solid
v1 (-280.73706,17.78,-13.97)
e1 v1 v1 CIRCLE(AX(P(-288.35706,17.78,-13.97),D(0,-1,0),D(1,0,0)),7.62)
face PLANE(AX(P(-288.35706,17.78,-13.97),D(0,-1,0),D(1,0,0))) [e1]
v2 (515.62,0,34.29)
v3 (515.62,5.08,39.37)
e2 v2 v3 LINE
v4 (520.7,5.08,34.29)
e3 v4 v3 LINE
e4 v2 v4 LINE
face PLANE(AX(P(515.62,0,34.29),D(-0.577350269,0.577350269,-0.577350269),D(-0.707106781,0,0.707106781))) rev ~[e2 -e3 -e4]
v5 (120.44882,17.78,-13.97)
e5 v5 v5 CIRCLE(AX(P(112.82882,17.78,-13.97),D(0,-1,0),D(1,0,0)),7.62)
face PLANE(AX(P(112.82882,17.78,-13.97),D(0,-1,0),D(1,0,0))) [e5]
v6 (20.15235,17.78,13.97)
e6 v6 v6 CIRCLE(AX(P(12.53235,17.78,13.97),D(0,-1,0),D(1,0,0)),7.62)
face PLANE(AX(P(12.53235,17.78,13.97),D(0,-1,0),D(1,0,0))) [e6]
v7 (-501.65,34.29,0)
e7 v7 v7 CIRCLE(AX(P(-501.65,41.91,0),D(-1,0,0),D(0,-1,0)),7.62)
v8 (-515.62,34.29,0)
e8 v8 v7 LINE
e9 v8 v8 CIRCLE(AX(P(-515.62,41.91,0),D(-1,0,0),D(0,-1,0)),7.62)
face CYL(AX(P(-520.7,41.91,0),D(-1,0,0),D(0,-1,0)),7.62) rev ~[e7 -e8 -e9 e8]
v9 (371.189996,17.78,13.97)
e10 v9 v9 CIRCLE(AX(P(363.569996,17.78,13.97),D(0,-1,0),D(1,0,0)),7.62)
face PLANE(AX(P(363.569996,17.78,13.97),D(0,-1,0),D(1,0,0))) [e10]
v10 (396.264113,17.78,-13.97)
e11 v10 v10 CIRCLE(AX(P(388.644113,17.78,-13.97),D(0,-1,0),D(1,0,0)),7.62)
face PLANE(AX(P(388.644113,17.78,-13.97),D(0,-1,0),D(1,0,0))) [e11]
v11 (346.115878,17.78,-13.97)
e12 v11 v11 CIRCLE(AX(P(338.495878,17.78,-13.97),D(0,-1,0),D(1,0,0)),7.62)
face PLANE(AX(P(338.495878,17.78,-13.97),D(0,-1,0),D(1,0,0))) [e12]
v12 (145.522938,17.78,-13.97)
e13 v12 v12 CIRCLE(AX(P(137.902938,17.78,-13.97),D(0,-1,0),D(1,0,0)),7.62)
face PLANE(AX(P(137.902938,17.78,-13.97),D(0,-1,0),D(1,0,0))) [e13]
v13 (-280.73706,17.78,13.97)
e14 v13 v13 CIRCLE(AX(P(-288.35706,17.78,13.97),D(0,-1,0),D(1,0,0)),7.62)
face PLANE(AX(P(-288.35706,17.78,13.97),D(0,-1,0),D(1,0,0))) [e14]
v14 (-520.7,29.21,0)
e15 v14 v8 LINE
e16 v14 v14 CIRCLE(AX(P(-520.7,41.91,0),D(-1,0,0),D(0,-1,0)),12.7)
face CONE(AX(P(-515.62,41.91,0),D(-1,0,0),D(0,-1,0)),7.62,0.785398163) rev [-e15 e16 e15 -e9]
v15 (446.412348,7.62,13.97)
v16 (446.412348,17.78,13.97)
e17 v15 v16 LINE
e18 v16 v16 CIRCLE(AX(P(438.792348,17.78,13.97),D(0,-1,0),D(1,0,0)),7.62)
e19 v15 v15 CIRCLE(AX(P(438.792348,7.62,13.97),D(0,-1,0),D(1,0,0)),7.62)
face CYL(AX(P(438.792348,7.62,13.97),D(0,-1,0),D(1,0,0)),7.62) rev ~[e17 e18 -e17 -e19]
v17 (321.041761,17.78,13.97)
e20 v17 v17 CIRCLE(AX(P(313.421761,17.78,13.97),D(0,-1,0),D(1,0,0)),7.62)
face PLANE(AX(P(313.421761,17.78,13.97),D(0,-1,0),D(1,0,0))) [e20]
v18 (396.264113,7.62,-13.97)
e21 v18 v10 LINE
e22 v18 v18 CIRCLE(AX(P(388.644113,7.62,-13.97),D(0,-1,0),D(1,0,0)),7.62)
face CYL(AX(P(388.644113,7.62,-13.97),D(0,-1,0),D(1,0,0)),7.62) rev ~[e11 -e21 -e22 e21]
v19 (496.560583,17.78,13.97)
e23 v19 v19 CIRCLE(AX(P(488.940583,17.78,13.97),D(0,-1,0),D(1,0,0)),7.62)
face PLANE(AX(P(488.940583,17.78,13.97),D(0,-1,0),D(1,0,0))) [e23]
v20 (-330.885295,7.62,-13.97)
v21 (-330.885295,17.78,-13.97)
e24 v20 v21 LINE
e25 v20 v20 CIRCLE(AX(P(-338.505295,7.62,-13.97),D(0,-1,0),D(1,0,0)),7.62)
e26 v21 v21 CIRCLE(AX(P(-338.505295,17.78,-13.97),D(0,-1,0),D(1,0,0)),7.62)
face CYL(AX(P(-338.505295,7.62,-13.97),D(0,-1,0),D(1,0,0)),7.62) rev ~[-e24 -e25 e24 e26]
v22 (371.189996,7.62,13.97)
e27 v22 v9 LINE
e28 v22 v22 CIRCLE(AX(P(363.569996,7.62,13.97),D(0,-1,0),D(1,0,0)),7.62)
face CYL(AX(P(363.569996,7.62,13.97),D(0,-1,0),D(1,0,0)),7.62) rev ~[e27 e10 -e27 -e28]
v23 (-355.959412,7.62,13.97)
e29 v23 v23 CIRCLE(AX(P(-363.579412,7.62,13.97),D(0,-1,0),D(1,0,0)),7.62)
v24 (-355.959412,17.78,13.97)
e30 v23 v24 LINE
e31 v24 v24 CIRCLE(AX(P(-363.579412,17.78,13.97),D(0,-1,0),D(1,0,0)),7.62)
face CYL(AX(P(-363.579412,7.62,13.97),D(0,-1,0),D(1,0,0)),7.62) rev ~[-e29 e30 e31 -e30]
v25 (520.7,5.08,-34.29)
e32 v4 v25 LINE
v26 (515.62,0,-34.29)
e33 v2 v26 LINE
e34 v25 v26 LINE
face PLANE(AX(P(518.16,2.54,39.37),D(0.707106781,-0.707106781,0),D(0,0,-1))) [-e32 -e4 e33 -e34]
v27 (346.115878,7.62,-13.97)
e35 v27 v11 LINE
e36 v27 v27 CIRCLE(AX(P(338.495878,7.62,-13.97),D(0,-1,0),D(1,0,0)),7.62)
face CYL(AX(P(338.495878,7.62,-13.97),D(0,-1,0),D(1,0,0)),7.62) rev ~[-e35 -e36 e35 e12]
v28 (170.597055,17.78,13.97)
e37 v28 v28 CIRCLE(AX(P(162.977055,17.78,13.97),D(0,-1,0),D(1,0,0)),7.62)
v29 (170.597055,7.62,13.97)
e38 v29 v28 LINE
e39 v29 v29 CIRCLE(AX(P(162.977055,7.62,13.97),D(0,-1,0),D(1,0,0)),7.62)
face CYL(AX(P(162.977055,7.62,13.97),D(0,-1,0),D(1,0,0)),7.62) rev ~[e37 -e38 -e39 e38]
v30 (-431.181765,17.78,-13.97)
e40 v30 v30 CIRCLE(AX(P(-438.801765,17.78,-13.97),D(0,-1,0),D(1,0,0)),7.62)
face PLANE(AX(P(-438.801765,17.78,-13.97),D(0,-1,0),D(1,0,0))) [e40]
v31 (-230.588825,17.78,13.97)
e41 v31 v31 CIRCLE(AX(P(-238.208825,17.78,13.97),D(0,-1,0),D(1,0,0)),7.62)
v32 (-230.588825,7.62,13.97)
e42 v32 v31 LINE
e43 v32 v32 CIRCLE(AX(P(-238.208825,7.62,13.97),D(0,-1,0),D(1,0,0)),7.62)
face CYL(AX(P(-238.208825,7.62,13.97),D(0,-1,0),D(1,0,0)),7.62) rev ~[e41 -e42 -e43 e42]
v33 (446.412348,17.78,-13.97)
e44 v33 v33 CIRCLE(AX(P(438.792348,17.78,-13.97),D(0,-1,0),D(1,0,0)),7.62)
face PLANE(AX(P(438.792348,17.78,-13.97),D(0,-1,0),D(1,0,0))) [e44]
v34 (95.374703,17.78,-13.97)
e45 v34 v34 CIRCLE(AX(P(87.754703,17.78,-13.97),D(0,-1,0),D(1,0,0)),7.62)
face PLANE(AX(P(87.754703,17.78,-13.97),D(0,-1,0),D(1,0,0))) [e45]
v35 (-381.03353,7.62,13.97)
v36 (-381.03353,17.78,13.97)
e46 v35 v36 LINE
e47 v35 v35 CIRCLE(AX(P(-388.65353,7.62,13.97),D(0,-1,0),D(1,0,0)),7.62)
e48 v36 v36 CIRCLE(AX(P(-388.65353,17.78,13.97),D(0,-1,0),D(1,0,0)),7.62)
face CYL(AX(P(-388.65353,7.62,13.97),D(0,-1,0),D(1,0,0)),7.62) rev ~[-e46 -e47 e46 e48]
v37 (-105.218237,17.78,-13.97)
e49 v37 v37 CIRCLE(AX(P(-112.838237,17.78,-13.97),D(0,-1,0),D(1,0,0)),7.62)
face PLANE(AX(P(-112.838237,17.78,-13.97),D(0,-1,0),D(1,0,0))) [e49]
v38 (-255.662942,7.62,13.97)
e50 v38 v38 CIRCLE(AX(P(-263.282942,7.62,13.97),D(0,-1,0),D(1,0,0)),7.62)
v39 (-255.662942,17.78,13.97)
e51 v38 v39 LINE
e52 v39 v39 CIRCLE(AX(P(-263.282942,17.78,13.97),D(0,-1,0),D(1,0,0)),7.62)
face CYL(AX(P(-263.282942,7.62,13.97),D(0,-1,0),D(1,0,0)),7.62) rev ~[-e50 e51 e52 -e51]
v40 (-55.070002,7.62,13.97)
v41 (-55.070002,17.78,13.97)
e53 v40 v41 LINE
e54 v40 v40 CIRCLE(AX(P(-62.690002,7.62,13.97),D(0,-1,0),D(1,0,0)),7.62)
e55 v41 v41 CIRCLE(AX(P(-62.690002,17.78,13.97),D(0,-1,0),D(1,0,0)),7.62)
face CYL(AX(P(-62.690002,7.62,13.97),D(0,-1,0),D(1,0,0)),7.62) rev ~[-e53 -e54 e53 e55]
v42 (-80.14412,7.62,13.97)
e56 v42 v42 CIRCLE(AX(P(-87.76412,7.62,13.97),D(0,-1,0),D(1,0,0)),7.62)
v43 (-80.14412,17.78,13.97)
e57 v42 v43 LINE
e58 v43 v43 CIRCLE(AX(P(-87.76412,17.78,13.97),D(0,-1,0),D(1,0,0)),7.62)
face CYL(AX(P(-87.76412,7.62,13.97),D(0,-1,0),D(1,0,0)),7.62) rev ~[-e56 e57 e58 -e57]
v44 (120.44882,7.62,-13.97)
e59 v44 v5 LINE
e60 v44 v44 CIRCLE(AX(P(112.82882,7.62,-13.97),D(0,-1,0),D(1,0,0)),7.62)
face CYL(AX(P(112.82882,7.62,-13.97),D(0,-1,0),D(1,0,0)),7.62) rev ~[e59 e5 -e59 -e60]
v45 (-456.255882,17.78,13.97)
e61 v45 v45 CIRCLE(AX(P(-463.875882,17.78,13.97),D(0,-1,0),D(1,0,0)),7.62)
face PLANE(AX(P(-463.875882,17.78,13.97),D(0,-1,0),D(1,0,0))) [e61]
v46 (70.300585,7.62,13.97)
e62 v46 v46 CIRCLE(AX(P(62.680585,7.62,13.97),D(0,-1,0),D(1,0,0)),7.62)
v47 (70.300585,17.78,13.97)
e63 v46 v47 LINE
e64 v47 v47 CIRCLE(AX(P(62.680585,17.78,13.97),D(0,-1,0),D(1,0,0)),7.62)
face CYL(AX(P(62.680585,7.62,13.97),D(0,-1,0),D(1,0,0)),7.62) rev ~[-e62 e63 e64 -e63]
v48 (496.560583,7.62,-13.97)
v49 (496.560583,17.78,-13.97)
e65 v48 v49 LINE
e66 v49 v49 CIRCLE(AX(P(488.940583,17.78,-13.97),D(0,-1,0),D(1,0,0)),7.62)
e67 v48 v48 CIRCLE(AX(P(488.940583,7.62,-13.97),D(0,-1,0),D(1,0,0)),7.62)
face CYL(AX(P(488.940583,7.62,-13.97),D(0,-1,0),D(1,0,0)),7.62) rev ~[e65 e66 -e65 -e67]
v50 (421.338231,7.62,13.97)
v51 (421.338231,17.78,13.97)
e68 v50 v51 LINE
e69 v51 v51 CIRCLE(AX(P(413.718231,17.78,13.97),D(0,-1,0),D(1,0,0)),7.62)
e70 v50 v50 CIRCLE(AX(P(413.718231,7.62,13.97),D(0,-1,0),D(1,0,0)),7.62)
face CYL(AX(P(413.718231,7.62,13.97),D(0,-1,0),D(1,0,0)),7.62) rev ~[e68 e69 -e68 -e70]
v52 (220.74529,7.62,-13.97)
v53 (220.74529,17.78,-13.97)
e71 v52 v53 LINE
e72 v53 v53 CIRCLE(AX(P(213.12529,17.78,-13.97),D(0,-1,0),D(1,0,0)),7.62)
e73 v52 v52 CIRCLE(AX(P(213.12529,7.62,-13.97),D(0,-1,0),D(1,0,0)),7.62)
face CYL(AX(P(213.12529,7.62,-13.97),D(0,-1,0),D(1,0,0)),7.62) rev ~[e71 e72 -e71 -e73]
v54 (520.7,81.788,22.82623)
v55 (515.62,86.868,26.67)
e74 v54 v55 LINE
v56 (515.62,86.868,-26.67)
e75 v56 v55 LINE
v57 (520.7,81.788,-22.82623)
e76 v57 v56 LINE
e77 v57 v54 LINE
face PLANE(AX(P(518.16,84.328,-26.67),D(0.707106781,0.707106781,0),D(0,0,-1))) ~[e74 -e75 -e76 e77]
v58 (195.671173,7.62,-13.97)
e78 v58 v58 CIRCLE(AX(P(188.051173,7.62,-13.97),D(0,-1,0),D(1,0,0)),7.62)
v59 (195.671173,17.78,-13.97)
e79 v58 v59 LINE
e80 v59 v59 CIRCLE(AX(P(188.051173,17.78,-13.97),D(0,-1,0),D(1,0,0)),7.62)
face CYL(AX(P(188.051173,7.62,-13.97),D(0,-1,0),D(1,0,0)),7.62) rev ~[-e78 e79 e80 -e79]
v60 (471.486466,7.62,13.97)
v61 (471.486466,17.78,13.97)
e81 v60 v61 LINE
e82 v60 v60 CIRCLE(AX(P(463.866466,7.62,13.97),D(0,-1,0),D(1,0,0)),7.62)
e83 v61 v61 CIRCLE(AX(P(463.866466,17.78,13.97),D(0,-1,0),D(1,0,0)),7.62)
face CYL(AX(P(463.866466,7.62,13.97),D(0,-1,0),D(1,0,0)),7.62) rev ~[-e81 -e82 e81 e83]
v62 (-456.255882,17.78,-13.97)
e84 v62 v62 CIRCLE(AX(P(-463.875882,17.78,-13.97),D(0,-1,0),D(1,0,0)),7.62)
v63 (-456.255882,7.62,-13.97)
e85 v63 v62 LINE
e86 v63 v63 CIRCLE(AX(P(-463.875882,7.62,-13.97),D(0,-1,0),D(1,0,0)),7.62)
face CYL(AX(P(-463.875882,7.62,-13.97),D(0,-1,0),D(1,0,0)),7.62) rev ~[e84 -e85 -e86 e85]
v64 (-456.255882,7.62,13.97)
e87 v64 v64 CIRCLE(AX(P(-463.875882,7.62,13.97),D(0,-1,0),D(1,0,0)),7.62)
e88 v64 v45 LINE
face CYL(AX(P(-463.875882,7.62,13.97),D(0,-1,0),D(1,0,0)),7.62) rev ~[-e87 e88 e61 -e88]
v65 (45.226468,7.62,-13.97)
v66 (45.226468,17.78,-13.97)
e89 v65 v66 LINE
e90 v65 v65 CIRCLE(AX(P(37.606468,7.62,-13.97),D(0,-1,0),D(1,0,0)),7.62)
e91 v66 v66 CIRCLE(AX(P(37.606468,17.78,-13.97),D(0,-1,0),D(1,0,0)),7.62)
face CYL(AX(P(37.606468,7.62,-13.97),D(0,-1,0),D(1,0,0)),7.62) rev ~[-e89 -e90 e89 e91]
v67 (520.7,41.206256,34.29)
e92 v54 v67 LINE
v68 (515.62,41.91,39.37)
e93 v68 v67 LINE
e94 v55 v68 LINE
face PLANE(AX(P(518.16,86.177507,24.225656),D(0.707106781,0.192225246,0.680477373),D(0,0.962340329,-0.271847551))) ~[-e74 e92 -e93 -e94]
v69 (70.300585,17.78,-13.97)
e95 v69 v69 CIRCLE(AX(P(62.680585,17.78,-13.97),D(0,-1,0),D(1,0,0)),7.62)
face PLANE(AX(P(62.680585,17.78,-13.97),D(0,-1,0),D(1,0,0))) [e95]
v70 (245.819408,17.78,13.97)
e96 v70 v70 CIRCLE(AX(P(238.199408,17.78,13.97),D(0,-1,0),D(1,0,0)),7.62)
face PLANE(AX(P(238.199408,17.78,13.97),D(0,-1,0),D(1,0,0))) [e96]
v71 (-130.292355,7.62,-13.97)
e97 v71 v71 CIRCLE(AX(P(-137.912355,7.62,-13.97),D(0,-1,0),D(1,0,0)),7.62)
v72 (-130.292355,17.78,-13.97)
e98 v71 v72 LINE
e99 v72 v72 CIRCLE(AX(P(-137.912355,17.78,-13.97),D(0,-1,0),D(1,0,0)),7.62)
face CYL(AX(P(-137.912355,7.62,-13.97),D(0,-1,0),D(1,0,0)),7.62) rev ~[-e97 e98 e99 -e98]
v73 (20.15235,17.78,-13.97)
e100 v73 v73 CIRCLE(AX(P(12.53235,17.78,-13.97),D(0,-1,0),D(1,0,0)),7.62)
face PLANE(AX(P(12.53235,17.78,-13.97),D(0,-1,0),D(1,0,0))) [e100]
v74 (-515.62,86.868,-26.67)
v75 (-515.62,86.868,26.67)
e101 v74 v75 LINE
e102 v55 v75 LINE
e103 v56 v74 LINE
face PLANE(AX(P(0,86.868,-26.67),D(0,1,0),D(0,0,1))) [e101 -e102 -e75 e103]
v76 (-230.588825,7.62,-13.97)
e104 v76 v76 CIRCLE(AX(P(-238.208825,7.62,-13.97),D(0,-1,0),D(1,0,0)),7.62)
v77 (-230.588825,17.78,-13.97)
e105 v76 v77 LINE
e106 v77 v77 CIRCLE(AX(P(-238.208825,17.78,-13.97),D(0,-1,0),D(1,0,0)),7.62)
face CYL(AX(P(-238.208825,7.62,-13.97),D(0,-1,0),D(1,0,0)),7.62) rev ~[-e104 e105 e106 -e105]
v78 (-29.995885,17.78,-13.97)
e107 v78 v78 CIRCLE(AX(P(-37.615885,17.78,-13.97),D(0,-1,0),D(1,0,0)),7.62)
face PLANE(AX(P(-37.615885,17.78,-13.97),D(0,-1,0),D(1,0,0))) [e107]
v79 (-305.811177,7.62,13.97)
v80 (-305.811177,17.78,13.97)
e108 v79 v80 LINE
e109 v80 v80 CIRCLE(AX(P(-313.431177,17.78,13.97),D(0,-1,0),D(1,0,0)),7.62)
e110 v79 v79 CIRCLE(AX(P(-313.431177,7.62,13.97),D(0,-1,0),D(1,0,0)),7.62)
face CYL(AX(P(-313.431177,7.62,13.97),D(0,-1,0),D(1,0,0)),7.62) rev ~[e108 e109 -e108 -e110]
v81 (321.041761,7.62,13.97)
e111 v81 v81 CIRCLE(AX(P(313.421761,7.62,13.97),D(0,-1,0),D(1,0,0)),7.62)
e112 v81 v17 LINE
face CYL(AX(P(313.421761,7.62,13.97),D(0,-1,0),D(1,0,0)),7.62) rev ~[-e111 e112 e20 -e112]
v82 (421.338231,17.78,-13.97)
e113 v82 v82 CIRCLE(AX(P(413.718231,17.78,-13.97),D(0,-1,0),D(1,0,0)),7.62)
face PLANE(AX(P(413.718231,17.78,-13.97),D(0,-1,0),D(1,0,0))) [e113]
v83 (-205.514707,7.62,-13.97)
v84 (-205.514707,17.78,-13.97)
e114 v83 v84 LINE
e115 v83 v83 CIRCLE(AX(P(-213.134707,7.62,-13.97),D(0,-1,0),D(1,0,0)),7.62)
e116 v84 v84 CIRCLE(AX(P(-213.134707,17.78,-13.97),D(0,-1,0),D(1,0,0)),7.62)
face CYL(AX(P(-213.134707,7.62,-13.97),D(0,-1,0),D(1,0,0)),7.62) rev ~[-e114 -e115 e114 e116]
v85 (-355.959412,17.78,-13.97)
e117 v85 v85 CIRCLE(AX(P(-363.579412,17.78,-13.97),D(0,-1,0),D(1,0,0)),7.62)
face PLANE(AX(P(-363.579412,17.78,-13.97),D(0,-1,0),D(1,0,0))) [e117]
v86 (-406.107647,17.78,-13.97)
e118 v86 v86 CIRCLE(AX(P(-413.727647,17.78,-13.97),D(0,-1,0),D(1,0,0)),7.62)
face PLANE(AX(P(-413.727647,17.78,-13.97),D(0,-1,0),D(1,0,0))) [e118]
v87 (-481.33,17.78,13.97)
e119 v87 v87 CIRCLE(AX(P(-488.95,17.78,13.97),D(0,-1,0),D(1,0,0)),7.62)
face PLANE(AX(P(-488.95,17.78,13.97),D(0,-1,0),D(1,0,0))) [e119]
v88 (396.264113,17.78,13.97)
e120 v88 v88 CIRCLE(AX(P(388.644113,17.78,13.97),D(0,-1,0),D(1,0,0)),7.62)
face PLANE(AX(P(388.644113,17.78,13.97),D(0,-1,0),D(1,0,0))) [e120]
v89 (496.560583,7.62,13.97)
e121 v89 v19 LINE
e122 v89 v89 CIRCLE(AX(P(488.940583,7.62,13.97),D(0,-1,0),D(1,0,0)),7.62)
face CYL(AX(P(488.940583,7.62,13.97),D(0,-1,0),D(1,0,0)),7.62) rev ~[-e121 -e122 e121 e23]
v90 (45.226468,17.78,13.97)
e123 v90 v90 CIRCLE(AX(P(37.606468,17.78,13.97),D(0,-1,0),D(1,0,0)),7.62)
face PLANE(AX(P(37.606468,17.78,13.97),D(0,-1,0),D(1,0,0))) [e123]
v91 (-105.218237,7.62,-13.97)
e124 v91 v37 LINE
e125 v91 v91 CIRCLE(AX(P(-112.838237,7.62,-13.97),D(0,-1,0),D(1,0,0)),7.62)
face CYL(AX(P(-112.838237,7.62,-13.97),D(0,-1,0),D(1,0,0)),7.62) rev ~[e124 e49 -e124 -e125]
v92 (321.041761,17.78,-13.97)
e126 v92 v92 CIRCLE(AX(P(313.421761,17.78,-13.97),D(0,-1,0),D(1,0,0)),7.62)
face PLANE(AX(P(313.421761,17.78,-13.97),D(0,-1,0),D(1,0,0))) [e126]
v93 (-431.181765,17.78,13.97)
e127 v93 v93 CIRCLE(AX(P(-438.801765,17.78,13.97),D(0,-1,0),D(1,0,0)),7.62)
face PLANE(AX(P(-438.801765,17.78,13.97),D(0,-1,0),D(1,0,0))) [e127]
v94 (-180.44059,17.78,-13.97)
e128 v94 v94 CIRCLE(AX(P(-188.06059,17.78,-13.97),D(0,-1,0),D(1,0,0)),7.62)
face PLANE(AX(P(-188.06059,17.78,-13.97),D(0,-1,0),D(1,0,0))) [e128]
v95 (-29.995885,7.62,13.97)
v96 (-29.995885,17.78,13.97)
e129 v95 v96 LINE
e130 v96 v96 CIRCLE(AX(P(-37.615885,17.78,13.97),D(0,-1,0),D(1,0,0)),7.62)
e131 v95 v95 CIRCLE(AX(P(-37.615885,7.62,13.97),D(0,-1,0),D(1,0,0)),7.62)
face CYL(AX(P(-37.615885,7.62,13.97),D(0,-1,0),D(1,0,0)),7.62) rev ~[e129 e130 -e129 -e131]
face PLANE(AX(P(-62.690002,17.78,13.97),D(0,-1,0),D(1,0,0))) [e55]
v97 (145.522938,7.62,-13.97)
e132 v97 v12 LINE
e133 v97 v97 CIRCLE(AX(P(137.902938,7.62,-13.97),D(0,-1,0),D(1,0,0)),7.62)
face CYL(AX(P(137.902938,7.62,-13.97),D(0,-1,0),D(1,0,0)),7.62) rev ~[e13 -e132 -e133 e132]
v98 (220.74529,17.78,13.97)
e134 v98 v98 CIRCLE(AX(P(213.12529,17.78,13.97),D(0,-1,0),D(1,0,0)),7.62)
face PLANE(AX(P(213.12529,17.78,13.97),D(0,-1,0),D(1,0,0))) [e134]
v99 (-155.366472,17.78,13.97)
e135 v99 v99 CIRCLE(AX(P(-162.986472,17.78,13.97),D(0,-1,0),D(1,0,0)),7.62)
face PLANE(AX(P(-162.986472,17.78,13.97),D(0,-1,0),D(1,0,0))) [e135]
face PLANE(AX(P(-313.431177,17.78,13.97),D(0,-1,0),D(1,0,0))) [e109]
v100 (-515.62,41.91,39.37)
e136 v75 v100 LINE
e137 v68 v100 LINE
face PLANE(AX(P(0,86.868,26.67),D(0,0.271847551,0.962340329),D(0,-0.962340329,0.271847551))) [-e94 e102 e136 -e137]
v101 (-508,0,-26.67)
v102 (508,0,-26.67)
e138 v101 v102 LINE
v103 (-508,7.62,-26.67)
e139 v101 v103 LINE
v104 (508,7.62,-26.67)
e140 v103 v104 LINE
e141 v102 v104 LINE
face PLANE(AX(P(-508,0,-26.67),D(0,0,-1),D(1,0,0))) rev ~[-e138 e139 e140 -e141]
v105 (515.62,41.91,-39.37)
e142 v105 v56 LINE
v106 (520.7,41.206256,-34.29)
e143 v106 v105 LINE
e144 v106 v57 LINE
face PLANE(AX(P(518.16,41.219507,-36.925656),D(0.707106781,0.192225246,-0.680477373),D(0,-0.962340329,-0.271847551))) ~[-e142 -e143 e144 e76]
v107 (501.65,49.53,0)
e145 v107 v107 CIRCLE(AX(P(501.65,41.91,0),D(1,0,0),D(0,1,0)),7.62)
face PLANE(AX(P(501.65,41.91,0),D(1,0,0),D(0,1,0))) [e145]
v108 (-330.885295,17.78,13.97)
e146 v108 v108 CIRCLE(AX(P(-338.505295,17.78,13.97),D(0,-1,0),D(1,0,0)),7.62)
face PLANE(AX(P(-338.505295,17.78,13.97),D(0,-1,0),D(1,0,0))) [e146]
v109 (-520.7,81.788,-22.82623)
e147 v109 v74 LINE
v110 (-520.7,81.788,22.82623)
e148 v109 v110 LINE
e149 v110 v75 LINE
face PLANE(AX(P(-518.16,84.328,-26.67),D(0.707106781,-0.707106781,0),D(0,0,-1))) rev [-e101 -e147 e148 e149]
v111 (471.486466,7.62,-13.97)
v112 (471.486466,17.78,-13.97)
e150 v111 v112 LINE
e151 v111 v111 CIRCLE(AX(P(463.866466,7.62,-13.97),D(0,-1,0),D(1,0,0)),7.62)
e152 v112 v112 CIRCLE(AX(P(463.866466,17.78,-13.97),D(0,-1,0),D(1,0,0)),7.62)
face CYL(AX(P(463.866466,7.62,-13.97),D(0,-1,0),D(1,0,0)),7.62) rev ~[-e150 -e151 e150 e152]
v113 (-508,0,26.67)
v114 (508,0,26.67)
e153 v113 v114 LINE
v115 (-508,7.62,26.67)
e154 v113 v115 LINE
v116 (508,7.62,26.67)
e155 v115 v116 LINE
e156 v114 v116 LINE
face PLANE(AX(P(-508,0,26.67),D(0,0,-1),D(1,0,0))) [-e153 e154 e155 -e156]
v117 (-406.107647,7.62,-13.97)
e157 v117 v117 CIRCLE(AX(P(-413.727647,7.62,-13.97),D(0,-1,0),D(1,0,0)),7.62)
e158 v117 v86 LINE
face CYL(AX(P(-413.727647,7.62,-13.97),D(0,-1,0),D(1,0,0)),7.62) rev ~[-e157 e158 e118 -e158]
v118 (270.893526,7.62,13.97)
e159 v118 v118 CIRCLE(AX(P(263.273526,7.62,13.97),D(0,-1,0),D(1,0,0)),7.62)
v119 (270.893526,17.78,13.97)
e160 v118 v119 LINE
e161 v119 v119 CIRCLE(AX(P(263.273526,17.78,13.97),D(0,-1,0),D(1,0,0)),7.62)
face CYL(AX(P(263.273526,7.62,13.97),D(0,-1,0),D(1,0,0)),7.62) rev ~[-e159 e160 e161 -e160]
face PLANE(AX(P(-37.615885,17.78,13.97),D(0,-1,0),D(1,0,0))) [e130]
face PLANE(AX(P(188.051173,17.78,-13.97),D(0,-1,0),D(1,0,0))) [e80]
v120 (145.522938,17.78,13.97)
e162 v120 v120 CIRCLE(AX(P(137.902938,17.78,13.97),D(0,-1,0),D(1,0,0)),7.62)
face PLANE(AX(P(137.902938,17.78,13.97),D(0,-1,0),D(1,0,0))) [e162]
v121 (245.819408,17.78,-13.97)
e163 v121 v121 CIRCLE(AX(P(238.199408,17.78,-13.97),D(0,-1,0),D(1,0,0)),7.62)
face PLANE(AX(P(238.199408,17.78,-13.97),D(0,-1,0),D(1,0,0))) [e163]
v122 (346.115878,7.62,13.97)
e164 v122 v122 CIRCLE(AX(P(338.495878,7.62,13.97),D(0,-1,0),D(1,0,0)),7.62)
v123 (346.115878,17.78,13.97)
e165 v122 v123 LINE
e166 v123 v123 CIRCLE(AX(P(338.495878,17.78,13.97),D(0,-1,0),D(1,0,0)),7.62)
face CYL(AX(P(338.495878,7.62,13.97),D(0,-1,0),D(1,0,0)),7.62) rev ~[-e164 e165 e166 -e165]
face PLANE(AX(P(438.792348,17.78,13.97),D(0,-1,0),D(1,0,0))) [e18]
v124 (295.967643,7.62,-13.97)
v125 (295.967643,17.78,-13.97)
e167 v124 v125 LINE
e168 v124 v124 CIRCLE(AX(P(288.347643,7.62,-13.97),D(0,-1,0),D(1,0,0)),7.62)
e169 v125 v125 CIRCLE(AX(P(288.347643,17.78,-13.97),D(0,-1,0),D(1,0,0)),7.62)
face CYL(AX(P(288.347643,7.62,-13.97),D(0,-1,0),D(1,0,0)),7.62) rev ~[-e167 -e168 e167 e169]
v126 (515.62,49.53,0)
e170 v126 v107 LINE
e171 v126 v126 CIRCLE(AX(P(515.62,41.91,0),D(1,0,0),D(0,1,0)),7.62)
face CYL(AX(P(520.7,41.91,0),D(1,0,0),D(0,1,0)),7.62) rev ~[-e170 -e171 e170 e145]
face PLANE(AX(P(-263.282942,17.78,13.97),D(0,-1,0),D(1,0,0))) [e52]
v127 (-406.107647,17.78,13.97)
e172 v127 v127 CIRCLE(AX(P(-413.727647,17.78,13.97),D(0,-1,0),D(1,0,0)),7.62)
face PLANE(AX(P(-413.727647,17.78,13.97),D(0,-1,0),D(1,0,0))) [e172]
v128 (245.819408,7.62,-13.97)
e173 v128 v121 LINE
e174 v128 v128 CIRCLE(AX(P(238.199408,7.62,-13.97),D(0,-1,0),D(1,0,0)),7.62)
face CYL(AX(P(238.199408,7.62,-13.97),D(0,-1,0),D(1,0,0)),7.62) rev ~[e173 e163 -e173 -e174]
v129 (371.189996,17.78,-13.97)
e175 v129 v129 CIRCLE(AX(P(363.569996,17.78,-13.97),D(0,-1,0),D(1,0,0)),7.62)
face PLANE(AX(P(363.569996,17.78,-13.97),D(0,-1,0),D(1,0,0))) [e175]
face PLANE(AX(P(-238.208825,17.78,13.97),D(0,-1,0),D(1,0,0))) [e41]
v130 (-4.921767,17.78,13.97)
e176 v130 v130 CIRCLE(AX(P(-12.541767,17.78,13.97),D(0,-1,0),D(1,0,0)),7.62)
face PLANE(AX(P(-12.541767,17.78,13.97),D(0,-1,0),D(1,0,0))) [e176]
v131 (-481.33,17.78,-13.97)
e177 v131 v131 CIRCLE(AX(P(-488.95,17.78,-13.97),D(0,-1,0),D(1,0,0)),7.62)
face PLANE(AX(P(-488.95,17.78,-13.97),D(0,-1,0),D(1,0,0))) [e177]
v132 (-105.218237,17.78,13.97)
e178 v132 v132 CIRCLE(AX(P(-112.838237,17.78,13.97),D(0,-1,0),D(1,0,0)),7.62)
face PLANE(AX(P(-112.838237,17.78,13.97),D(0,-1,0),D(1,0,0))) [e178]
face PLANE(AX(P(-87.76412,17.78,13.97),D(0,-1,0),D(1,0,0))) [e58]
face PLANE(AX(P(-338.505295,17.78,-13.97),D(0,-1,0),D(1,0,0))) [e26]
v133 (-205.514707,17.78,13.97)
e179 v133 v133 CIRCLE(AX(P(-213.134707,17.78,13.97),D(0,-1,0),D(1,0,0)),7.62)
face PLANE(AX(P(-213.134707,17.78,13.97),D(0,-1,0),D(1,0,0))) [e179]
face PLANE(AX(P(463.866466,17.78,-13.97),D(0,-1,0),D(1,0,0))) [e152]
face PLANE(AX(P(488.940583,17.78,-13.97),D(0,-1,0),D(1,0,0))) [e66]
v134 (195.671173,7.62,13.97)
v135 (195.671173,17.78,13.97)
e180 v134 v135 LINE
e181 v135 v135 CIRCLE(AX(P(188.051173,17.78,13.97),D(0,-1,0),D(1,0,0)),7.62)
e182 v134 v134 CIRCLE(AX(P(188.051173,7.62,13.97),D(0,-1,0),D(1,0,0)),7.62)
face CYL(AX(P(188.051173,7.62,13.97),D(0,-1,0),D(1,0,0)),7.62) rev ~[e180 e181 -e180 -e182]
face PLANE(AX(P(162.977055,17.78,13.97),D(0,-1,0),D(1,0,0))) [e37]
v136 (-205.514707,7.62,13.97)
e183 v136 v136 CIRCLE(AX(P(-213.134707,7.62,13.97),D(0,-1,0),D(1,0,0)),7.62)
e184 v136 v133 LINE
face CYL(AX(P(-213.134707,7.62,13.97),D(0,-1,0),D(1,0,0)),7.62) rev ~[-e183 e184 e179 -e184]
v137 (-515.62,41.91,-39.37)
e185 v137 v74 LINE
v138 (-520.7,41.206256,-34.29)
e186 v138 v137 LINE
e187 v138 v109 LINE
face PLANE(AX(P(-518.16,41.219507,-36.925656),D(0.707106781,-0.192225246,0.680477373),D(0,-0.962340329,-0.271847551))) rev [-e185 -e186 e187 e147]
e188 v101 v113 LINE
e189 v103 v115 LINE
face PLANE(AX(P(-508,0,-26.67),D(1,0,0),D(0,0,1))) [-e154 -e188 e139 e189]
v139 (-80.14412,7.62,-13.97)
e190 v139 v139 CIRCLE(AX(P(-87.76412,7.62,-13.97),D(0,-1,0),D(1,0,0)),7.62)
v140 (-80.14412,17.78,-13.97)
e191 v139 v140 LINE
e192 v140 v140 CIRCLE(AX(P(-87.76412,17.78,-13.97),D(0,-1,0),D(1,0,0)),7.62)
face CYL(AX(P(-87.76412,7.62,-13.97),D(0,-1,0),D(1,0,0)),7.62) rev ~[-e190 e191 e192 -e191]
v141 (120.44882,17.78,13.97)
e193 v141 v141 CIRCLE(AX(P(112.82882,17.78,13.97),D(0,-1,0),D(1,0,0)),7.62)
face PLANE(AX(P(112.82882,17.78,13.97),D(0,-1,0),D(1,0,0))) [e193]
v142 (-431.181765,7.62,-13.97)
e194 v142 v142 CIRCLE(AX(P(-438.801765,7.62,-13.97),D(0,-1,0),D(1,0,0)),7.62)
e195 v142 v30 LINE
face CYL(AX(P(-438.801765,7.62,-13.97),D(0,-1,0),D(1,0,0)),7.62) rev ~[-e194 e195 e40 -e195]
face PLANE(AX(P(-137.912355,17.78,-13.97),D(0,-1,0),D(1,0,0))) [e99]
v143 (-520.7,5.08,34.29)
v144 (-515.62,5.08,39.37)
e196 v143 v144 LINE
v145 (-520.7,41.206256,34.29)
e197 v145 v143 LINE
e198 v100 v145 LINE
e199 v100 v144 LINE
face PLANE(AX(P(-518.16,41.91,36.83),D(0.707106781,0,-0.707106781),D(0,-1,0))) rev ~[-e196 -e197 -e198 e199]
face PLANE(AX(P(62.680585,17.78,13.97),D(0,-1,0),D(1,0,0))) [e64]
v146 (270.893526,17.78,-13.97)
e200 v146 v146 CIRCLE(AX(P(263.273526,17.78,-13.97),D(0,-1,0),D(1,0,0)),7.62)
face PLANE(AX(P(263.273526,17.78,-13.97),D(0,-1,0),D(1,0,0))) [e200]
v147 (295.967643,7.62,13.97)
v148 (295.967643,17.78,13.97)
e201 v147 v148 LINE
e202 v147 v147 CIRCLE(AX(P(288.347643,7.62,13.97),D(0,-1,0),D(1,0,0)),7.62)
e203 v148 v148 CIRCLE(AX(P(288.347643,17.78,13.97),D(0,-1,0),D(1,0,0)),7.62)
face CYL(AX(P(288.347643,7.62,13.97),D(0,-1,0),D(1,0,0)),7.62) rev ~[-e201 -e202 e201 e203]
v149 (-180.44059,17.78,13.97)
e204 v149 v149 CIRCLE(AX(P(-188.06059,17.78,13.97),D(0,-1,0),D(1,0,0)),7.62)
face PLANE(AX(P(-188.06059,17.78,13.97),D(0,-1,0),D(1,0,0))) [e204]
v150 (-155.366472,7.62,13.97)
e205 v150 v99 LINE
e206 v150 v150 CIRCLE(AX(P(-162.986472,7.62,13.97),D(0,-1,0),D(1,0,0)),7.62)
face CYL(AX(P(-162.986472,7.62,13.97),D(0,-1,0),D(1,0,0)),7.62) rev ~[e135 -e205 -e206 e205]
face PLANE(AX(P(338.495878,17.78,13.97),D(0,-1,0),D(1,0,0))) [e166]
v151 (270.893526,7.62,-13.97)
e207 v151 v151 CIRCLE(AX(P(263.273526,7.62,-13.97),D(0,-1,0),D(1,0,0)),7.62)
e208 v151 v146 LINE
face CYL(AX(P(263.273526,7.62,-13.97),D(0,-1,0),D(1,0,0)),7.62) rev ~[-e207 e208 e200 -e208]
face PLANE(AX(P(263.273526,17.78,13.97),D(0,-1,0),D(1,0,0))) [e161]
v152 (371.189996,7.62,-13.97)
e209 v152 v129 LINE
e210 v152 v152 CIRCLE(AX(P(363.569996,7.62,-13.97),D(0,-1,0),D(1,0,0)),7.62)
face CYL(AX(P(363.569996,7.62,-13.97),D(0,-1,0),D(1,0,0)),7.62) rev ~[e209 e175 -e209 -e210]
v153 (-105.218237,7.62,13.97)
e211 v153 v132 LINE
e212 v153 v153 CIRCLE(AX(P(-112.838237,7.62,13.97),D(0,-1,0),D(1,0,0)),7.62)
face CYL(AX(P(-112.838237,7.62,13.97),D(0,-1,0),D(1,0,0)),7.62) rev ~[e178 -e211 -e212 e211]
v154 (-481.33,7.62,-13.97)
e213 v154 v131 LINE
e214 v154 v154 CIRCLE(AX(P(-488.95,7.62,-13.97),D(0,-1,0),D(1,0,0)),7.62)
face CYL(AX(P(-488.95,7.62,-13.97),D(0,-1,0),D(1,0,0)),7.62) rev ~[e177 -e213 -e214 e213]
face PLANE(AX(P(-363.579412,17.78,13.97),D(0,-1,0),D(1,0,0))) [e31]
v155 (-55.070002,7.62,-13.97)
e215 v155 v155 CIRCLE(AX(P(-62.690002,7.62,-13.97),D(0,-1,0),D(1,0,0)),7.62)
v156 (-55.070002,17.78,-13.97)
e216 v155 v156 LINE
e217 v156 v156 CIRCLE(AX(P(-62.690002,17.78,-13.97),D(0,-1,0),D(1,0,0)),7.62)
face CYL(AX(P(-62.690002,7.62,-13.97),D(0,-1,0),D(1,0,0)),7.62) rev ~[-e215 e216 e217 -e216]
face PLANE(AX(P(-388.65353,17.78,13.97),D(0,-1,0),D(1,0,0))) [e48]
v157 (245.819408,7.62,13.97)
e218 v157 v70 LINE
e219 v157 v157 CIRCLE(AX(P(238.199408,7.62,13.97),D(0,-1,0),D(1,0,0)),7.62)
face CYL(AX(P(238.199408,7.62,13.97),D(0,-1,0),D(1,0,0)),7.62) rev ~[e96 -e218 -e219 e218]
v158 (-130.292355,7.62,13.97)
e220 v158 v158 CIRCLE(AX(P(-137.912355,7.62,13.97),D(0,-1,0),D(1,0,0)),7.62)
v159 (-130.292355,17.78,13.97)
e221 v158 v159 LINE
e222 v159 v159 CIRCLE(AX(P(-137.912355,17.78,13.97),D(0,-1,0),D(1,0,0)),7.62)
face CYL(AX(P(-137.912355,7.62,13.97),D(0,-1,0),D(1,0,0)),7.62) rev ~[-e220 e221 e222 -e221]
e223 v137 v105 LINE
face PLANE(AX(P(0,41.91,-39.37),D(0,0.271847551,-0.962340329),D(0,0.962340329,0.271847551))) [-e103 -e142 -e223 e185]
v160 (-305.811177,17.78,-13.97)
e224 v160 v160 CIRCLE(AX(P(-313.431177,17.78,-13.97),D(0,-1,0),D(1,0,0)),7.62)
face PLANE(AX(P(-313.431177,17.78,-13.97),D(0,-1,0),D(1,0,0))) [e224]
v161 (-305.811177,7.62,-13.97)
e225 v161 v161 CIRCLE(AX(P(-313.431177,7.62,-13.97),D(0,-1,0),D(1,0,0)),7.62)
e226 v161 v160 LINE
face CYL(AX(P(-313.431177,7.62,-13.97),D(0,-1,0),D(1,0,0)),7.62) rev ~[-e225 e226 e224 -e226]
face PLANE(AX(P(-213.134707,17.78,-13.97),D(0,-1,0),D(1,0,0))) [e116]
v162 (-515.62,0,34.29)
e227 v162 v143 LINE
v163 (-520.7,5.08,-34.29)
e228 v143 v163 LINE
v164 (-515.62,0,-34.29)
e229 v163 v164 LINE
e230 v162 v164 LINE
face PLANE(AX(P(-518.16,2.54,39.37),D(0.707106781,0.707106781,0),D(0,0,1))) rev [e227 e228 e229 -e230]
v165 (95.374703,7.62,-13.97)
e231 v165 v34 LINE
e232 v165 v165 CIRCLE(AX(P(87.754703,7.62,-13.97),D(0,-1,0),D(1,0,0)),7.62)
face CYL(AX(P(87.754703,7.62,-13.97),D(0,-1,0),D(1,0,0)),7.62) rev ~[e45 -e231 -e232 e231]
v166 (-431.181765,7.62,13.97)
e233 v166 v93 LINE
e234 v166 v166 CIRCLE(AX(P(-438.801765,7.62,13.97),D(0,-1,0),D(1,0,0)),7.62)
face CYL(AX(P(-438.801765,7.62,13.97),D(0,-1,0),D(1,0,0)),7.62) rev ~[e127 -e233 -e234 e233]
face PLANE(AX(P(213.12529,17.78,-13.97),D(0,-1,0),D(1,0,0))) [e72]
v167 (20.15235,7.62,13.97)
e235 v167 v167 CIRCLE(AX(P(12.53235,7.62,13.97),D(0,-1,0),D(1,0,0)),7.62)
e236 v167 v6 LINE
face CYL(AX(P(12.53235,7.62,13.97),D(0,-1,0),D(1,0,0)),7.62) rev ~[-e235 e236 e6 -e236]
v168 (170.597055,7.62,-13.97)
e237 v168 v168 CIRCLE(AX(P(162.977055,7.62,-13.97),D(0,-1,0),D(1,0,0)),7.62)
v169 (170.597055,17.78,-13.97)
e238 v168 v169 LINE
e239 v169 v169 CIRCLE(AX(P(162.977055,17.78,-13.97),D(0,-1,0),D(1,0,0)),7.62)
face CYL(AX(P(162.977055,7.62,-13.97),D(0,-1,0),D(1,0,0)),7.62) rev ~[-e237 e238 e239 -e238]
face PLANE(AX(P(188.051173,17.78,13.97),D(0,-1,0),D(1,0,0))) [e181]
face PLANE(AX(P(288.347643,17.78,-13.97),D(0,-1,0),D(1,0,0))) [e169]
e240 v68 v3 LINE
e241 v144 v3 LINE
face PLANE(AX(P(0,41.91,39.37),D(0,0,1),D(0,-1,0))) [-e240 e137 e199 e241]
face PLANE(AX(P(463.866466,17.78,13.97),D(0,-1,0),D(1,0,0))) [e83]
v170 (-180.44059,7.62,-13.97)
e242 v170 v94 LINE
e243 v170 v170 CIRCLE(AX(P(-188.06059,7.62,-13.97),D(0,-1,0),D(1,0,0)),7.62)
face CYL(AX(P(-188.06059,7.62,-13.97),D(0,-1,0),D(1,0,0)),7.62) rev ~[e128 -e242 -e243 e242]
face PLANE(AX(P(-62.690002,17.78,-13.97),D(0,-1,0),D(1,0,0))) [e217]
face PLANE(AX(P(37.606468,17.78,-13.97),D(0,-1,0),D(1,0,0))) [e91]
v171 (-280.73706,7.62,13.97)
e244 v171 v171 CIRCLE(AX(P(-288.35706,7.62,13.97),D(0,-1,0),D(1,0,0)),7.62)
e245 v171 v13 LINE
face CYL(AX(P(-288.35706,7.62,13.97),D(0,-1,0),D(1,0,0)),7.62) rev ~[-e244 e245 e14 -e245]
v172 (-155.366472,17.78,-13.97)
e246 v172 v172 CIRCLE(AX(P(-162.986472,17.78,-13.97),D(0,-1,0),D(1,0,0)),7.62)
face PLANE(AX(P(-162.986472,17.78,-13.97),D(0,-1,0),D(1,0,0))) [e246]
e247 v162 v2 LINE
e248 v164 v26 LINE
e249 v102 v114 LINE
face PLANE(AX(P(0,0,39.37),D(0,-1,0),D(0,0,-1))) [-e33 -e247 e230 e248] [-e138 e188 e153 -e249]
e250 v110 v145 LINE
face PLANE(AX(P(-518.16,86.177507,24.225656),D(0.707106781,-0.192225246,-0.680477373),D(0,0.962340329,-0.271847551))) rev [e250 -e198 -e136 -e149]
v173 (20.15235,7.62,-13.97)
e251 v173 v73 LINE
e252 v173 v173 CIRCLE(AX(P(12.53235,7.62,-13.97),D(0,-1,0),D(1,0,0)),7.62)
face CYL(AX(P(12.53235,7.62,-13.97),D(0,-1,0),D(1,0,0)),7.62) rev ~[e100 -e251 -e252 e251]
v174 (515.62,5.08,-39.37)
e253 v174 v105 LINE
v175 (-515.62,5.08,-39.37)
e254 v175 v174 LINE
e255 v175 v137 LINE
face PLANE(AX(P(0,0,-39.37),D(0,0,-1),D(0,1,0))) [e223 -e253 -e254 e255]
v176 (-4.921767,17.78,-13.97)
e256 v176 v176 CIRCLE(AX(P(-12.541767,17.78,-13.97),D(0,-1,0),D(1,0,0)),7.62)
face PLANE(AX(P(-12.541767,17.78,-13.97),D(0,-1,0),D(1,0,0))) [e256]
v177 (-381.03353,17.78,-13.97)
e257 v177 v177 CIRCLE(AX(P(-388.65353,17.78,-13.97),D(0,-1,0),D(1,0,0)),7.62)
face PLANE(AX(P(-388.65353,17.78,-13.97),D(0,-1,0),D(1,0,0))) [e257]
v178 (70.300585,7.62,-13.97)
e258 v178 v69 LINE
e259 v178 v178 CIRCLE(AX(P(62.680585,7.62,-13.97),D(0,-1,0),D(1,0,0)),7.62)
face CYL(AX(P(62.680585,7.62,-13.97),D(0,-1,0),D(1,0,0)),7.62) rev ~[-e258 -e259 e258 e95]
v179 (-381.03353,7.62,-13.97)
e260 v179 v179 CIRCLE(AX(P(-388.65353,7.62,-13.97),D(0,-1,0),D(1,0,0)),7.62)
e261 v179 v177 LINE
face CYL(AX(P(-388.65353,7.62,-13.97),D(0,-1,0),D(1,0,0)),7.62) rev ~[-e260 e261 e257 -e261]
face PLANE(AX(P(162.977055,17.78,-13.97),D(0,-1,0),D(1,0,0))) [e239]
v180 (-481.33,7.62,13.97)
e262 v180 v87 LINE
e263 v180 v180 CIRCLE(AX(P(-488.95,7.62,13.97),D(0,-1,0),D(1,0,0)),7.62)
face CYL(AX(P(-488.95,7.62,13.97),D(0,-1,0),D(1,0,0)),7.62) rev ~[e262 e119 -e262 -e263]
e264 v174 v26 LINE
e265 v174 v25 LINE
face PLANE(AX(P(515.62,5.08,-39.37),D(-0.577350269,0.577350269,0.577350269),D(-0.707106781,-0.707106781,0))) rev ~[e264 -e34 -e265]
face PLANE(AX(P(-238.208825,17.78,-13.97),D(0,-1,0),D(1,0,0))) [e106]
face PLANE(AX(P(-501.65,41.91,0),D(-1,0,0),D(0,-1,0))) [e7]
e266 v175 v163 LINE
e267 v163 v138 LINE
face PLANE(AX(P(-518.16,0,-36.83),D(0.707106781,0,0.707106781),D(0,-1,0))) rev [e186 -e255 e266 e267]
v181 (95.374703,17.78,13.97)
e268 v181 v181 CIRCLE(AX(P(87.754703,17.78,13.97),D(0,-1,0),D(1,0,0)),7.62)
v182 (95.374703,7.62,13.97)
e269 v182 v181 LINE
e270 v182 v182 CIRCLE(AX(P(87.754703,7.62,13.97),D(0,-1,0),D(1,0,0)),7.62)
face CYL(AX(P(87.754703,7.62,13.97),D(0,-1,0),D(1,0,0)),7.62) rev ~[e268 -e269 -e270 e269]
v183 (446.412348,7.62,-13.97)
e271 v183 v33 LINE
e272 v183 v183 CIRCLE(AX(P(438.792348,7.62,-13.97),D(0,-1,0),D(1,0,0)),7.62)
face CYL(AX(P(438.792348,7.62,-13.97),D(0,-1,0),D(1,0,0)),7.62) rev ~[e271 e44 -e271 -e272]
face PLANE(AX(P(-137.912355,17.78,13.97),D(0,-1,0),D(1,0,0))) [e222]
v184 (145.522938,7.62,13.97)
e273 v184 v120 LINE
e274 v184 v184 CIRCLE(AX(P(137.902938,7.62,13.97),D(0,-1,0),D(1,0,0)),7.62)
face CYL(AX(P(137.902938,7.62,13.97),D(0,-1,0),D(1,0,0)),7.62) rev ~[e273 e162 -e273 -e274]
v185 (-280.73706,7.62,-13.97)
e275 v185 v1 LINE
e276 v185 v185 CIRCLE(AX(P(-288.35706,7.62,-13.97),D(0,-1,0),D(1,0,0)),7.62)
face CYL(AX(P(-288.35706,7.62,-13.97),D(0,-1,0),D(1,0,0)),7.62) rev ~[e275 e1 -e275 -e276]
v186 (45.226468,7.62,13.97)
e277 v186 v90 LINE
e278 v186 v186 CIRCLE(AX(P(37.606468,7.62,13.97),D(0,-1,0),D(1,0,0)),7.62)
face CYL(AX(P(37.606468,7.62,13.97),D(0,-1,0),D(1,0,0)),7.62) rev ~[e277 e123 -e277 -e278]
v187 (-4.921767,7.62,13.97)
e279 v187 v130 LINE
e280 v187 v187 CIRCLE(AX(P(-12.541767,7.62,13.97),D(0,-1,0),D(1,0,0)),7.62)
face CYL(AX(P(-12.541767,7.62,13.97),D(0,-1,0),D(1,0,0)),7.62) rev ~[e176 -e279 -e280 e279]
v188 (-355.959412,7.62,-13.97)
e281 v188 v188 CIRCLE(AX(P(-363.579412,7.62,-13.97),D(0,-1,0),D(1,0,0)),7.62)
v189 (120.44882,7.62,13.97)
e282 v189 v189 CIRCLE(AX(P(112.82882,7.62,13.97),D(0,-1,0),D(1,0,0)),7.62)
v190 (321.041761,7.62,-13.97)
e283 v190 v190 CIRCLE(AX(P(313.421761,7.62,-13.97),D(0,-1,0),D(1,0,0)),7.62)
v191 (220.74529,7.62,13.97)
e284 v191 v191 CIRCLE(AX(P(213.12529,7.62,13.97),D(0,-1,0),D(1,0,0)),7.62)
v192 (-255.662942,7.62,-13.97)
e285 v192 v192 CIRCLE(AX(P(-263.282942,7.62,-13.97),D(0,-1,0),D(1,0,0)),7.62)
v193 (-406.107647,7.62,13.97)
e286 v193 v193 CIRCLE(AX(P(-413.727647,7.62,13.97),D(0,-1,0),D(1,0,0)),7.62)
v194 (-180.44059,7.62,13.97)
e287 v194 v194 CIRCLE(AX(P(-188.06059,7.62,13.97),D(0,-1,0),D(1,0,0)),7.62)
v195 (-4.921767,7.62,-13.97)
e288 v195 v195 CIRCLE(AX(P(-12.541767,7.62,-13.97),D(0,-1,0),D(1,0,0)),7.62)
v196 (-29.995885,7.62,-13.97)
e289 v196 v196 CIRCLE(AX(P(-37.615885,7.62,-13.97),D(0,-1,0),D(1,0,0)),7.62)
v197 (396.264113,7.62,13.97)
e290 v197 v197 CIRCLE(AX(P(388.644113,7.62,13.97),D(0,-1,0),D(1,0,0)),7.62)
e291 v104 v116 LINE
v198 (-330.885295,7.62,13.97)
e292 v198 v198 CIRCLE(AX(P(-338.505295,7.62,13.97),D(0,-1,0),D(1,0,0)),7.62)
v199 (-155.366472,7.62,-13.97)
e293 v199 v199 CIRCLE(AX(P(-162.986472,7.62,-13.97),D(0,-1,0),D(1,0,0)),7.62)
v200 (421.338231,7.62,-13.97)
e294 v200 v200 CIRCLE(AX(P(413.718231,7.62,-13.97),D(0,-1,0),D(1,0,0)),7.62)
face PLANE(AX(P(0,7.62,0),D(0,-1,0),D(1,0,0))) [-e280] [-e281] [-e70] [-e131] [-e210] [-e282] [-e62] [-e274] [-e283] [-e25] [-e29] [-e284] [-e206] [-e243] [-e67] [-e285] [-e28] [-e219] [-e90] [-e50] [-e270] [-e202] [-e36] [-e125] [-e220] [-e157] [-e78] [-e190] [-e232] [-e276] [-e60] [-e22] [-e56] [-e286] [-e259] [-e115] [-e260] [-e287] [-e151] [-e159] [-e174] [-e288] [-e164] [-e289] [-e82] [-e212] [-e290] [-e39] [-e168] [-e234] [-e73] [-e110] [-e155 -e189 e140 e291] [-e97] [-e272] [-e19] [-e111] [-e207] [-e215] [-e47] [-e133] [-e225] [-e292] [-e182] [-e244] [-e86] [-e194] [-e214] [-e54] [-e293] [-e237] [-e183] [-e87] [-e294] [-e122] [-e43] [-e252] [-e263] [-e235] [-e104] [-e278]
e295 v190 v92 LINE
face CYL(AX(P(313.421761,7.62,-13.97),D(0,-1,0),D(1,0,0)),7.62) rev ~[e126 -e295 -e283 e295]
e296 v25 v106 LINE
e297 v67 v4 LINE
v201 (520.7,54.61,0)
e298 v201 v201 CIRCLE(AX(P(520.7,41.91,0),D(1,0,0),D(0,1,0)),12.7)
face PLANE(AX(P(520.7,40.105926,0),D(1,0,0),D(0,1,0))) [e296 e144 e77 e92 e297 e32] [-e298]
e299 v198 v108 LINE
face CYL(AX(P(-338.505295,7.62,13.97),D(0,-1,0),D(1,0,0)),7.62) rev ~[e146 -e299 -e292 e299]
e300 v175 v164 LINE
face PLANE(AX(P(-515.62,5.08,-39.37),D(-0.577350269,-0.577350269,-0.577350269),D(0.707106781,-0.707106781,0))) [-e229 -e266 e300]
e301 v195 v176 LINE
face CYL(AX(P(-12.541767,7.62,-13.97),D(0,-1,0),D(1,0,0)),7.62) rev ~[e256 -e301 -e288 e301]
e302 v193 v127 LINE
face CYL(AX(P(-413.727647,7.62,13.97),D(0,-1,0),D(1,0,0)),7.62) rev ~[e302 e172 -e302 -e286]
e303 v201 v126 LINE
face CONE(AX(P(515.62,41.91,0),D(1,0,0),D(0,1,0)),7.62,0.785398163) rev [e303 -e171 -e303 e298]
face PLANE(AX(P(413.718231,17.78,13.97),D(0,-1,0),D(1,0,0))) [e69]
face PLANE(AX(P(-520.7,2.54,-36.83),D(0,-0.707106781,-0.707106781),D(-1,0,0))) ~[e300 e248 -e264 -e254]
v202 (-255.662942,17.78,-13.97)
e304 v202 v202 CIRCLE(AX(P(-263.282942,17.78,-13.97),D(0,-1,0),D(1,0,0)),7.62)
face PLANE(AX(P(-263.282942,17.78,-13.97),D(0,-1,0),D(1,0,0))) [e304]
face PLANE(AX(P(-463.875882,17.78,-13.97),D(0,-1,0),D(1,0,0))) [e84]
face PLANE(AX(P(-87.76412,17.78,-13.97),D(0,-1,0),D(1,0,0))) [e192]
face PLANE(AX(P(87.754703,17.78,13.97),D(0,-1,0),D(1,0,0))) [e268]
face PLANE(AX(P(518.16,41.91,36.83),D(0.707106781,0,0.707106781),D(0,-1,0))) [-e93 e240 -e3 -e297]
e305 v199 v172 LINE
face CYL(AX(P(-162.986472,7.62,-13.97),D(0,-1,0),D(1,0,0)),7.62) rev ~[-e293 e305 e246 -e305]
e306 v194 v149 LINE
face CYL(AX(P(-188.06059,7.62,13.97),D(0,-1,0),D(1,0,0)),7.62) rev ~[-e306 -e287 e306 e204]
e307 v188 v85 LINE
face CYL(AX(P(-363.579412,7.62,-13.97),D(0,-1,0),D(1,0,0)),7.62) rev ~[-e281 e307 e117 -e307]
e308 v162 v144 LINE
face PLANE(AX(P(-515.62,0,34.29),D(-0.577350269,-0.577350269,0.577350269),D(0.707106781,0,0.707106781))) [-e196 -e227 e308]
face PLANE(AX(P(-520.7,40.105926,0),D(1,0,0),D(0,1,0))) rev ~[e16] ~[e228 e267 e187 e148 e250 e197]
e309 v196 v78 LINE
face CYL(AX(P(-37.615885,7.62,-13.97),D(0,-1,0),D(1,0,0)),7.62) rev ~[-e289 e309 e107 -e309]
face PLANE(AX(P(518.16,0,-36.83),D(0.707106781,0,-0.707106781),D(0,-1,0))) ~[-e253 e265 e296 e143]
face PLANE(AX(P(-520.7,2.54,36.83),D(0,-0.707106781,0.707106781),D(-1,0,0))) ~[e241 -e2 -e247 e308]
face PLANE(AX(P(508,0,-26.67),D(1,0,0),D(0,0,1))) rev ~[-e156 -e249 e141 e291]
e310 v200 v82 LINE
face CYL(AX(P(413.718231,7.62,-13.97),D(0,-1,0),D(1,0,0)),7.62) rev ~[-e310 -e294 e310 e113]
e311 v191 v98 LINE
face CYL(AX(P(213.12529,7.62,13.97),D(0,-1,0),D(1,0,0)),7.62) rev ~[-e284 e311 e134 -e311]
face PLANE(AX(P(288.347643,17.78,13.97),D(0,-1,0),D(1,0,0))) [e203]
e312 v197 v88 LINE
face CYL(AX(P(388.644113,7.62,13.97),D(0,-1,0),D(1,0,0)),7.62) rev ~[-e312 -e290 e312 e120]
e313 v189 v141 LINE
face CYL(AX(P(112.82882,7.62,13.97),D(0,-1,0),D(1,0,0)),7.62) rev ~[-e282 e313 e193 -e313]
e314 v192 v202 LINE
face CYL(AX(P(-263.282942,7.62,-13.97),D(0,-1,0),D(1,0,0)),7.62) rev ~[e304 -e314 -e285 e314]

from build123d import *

# Parameters (mm, degrees)
F1_DEPTH = 520.7
F2_W     = 1016
F2_H     = 53.34
F3_DEPTH = 7.62
F4_R     = 7.62
F5_DEPTH = 10.16
F6_R     = 7.62
F7_DEPTH = 19.05
F8_R     = 7.62
F9_DEPTH = 19.05
F10_SIZE = 5.08


with BuildPart() as f1:
    # F0 (on Right) → F1 (new body, symmetric)
    with BuildSketch(Plane.YZ):
        Polygon((41.91, 39.37), (0, 39.37), (0, 0), (0, -39.37), (41.91, -39.37), (86.868, -26.67), (86.868, 0), (86.868, 26.67), align=None)
    extrude(amount=F1_DEPTH, both=True)

    # F2 (on face) → F3 (cut)
    with BuildSketch(Plane.XZ):
        Rectangle(F2_W, F2_H)
    extrude(amount=-F3_DEPTH, mode=Mode.SUBTRACT)

    # F4 (on face) → F5 (cut)
    with BuildSketch(Plane.XZ.offset(-7.62)):
        with Locations((-488.95, 13.97)):
            Circle(F4_R)
        with Locations((-463.8758824825, 13.97)):
            Circle(F4_R)
        with Locations((-438.8017649651, 13.97)):
            Circle(F4_R)
        with Locations((-413.7276474476, 13.97)):
            Circle(F4_R)
        with Locations((-388.6535299301, 13.97)):
            Circle(F4_R)
        with Locations((-363.5794124126, 13.97)):
            Circle(F4_R)
        with Locations((-338.5052948952, 13.97)):
            Circle(F4_R)
        with Locations((-313.4311773777, 13.97)):
            Circle(F4_R)
        with Locations((-288.3570598602, 13.97)):
            Circle(F4_R)
        with Locations((-263.2829423428, 13.97)):
            Circle(F4_R)
        with Locations((-238.2088248253, 13.97)):
            Circle(F4_R)
        with Locations((-213.1347073078, 13.97)):
            Circle(F4_R)
        with Locations((-188.0605897903, 13.97)):
            Circle(F4_R)
        with Locations((-162.9864722729, 13.97)):
            Circle(F4_R)
        with Locations((-137.9123547554, 13.97)):
            Circle(F4_R)
        with Locations((-112.8382372379, 13.97)):
            Circle(F4_R)
        with Locations((-87.7641197205, 13.97)):
            Circle(F4_R)
        with Locations((-62.690002203, 13.97)):
            Circle(F4_R)
        with Locations((-37.6158846855, 13.97)):
            Circle(F4_R)
        with Locations((-12.541767168, 13.97)):
            Circle(F4_R)
        with Locations((12.5323503494, 13.97)):
            Circle(F4_R)
        with Locations((37.6064678669, 13.97)):
            Circle(F4_R)
        with Locations((62.6805853844, 13.97)):
            Circle(F4_R)
        with Locations((87.7547029018, 13.97)):
            Circle(F4_R)
        with Locations((112.8288204193, 13.97)):
            Circle(F4_R)
        with Locations((137.9029379368, 13.97)):
            Circle(F4_R)
        with Locations((162.9770554543, 13.97)):
            Circle(F4_R)
        with Locations((188.0511729717, 13.97)):
            Circle(F4_R)
        with Locations((213.1252904892, 13.97)):
            Circle(F4_R)
        with Locations((238.1994080067, 13.97)):
            Circle(F4_R)
        with Locations((263.2735255241, 13.97)):
            Circle(F4_R)
        with Locations((288.3476430416, 13.97)):
            Circle(F4_R)
        with Locations((313.4217605591, 13.97)):
            Circle(F4_R)
        with Locations((338.4958780766, 13.97)):
            Circle(F4_R)
        with Locations((363.569995594, 13.97)):
            Circle(F4_R)
        with Locations((388.6441131115, 13.97)):
            Circle(F4_R)
        with Locations((413.718230629, 13.97)):
            Circle(F4_R)
        with Locations((438.7923481464, 13.97)):
            Circle(F4_R)
        with Locations((463.8664656639, 13.97)):
            Circle(F4_R)
        with Locations((488.9405831814, 13.97)):
            Circle(F4_R)
        with Locations((488.9405831814, -13.97)):
            Circle(F4_R)
        with Locations((-413.7276474476, -13.97)):
            Circle(F4_R)
        with Locations((-313.4311773777, -13.97)):
            Circle(F4_R)
        with Locations((12.5323503494, -13.97)):
            Circle(F4_R)
        with Locations((-37.6158846855, -13.97)):
            Circle(F4_R)
        with Locations((-87.7641197205, -13.97)):
            Circle(F4_R)
        with Locations((-388.6535299301, -13.97)):
            Circle(F4_R)
        with Locations((413.718230629, -13.97)):
            Circle(F4_R)
        with Locations((363.569995594, -13.97)):
            Circle(F4_R)
        with Locations((313.4217605591, -13.97)):
            Circle(F4_R)
        with Locations((-288.3570598602, -13.97)):
            Circle(F4_R)
        with Locations((-488.95, -13.97)):
            Circle(F4_R)
        with Locations((238.1994080067, -13.97)):
            Circle(F4_R)
        with Locations((162.9770554543, -13.97)):
            Circle(F4_R)
        with Locations((62.6805853844, -13.97)):
            Circle(F4_R)
        with Locations((-363.5794124126, -13.97)):
            Circle(F4_R)
        with Locations((112.8288204193, -13.97)):
            Circle(F4_R)
        with Locations((-263.2829423428, -13.97)):
            Circle(F4_R)
        with Locations((-188.0605897903, -13.97)):
            Circle(F4_R)
        with Locations((463.8664656639, -13.97)):
            Circle(F4_R)
        with Locations((-238.2088248253, -13.97)):
            Circle(F4_R)
        with Locations((-463.8758824825, -13.97)):
            Circle(F4_R)
        with Locations((37.6064678669, -13.97)):
            Circle(F4_R)
        with Locations((-162.9864722729, -13.97)):
            Circle(F4_R)
        with Locations((-62.690002203, -13.97)):
            Circle(F4_R)
        with Locations((-112.8382372379, -13.97)):
            Circle(F4_R)
        with Locations((-12.541767168, -13.97)):
            Circle(F4_R)
        with Locations((438.7923481464, -13.97)):
            Circle(F4_R)
        with Locations((388.6441131115, -13.97)):
            Circle(F4_R)
        with Locations((338.4958780766, -13.97)):
            Circle(F4_R)
        with Locations((288.3476430416, -13.97)):
            Circle(F4_R)
        with Locations((213.1252904892, -13.97)):
            Circle(F4_R)
        with Locations((263.2735255241, -13.97)):
            Circle(F4_R)
        with Locations((-213.1347073078, -13.97)):
            Circle(F4_R)
        with Locations((-438.8017649651, -13.97)):
            Circle(F4_R)
        with Locations((-137.9123547554, -13.97)):
            Circle(F4_R)
        with Locations((-338.5052948952, -13.97)):
            Circle(F4_R)
        with Locations((137.9029379368, -13.97)):
            Circle(F4_R)
        with Locations((87.7547029018, -13.97)):
            Circle(F4_R)
        with Locations((188.0511729717, -13.97)):
            Circle(F4_R)
    extrude(amount=-F5_DEPTH, mode=Mode.SUBTRACT)

    # F6 (on face) → F7 (cut)
    with BuildSketch(Plane.YZ.offset(520.7)):
        with Locations((41.91, 0)):
            Circle(F6_R)
    extrude(amount=-F7_DEPTH, mode=Mode.SUBTRACT)

    # F8 (on face) → F9 (cut)
    with BuildSketch(Plane(origin=(-520.7, 0, 0), x_dir=(0, -1, 0), z_dir=(-1, 0, 0))):
        with Locations((-41.91, 0)):
            Circle(F8_R)
    extrude(amount=-F9_DEPTH, mode=Mode.SUBTRACT)

    # F10
    f10_edges = [f1.edges().sort_by_distance(p)[0] for p in [
        (-520.7, 20.955, 39.37),
        (-520.7, 64.389, 33.02),
        (-520.7, 0, 0),
        (-520.7, 86.868, 0),
        (-520.7, 20.955, -39.37),
        (-520.7, 64.389, -33.02),
        (-520.7, 49.53, 0),
        (520.7, 20.955, 39.37),
        (520.7, 64.389, 33.02),
        (520.7, 0, 0),
        (520.7, 86.868, 0),
        (520.7, 20.955, -39.37),
        (520.7, 64.389, -33.02),
        (520.7, 34.29, 0),
        (0, 0, 39.37),
        (0, 0, -39.37),
    ]]
    chamfer(f10_edges, length=F10_SIZE)


solid = f1.part
